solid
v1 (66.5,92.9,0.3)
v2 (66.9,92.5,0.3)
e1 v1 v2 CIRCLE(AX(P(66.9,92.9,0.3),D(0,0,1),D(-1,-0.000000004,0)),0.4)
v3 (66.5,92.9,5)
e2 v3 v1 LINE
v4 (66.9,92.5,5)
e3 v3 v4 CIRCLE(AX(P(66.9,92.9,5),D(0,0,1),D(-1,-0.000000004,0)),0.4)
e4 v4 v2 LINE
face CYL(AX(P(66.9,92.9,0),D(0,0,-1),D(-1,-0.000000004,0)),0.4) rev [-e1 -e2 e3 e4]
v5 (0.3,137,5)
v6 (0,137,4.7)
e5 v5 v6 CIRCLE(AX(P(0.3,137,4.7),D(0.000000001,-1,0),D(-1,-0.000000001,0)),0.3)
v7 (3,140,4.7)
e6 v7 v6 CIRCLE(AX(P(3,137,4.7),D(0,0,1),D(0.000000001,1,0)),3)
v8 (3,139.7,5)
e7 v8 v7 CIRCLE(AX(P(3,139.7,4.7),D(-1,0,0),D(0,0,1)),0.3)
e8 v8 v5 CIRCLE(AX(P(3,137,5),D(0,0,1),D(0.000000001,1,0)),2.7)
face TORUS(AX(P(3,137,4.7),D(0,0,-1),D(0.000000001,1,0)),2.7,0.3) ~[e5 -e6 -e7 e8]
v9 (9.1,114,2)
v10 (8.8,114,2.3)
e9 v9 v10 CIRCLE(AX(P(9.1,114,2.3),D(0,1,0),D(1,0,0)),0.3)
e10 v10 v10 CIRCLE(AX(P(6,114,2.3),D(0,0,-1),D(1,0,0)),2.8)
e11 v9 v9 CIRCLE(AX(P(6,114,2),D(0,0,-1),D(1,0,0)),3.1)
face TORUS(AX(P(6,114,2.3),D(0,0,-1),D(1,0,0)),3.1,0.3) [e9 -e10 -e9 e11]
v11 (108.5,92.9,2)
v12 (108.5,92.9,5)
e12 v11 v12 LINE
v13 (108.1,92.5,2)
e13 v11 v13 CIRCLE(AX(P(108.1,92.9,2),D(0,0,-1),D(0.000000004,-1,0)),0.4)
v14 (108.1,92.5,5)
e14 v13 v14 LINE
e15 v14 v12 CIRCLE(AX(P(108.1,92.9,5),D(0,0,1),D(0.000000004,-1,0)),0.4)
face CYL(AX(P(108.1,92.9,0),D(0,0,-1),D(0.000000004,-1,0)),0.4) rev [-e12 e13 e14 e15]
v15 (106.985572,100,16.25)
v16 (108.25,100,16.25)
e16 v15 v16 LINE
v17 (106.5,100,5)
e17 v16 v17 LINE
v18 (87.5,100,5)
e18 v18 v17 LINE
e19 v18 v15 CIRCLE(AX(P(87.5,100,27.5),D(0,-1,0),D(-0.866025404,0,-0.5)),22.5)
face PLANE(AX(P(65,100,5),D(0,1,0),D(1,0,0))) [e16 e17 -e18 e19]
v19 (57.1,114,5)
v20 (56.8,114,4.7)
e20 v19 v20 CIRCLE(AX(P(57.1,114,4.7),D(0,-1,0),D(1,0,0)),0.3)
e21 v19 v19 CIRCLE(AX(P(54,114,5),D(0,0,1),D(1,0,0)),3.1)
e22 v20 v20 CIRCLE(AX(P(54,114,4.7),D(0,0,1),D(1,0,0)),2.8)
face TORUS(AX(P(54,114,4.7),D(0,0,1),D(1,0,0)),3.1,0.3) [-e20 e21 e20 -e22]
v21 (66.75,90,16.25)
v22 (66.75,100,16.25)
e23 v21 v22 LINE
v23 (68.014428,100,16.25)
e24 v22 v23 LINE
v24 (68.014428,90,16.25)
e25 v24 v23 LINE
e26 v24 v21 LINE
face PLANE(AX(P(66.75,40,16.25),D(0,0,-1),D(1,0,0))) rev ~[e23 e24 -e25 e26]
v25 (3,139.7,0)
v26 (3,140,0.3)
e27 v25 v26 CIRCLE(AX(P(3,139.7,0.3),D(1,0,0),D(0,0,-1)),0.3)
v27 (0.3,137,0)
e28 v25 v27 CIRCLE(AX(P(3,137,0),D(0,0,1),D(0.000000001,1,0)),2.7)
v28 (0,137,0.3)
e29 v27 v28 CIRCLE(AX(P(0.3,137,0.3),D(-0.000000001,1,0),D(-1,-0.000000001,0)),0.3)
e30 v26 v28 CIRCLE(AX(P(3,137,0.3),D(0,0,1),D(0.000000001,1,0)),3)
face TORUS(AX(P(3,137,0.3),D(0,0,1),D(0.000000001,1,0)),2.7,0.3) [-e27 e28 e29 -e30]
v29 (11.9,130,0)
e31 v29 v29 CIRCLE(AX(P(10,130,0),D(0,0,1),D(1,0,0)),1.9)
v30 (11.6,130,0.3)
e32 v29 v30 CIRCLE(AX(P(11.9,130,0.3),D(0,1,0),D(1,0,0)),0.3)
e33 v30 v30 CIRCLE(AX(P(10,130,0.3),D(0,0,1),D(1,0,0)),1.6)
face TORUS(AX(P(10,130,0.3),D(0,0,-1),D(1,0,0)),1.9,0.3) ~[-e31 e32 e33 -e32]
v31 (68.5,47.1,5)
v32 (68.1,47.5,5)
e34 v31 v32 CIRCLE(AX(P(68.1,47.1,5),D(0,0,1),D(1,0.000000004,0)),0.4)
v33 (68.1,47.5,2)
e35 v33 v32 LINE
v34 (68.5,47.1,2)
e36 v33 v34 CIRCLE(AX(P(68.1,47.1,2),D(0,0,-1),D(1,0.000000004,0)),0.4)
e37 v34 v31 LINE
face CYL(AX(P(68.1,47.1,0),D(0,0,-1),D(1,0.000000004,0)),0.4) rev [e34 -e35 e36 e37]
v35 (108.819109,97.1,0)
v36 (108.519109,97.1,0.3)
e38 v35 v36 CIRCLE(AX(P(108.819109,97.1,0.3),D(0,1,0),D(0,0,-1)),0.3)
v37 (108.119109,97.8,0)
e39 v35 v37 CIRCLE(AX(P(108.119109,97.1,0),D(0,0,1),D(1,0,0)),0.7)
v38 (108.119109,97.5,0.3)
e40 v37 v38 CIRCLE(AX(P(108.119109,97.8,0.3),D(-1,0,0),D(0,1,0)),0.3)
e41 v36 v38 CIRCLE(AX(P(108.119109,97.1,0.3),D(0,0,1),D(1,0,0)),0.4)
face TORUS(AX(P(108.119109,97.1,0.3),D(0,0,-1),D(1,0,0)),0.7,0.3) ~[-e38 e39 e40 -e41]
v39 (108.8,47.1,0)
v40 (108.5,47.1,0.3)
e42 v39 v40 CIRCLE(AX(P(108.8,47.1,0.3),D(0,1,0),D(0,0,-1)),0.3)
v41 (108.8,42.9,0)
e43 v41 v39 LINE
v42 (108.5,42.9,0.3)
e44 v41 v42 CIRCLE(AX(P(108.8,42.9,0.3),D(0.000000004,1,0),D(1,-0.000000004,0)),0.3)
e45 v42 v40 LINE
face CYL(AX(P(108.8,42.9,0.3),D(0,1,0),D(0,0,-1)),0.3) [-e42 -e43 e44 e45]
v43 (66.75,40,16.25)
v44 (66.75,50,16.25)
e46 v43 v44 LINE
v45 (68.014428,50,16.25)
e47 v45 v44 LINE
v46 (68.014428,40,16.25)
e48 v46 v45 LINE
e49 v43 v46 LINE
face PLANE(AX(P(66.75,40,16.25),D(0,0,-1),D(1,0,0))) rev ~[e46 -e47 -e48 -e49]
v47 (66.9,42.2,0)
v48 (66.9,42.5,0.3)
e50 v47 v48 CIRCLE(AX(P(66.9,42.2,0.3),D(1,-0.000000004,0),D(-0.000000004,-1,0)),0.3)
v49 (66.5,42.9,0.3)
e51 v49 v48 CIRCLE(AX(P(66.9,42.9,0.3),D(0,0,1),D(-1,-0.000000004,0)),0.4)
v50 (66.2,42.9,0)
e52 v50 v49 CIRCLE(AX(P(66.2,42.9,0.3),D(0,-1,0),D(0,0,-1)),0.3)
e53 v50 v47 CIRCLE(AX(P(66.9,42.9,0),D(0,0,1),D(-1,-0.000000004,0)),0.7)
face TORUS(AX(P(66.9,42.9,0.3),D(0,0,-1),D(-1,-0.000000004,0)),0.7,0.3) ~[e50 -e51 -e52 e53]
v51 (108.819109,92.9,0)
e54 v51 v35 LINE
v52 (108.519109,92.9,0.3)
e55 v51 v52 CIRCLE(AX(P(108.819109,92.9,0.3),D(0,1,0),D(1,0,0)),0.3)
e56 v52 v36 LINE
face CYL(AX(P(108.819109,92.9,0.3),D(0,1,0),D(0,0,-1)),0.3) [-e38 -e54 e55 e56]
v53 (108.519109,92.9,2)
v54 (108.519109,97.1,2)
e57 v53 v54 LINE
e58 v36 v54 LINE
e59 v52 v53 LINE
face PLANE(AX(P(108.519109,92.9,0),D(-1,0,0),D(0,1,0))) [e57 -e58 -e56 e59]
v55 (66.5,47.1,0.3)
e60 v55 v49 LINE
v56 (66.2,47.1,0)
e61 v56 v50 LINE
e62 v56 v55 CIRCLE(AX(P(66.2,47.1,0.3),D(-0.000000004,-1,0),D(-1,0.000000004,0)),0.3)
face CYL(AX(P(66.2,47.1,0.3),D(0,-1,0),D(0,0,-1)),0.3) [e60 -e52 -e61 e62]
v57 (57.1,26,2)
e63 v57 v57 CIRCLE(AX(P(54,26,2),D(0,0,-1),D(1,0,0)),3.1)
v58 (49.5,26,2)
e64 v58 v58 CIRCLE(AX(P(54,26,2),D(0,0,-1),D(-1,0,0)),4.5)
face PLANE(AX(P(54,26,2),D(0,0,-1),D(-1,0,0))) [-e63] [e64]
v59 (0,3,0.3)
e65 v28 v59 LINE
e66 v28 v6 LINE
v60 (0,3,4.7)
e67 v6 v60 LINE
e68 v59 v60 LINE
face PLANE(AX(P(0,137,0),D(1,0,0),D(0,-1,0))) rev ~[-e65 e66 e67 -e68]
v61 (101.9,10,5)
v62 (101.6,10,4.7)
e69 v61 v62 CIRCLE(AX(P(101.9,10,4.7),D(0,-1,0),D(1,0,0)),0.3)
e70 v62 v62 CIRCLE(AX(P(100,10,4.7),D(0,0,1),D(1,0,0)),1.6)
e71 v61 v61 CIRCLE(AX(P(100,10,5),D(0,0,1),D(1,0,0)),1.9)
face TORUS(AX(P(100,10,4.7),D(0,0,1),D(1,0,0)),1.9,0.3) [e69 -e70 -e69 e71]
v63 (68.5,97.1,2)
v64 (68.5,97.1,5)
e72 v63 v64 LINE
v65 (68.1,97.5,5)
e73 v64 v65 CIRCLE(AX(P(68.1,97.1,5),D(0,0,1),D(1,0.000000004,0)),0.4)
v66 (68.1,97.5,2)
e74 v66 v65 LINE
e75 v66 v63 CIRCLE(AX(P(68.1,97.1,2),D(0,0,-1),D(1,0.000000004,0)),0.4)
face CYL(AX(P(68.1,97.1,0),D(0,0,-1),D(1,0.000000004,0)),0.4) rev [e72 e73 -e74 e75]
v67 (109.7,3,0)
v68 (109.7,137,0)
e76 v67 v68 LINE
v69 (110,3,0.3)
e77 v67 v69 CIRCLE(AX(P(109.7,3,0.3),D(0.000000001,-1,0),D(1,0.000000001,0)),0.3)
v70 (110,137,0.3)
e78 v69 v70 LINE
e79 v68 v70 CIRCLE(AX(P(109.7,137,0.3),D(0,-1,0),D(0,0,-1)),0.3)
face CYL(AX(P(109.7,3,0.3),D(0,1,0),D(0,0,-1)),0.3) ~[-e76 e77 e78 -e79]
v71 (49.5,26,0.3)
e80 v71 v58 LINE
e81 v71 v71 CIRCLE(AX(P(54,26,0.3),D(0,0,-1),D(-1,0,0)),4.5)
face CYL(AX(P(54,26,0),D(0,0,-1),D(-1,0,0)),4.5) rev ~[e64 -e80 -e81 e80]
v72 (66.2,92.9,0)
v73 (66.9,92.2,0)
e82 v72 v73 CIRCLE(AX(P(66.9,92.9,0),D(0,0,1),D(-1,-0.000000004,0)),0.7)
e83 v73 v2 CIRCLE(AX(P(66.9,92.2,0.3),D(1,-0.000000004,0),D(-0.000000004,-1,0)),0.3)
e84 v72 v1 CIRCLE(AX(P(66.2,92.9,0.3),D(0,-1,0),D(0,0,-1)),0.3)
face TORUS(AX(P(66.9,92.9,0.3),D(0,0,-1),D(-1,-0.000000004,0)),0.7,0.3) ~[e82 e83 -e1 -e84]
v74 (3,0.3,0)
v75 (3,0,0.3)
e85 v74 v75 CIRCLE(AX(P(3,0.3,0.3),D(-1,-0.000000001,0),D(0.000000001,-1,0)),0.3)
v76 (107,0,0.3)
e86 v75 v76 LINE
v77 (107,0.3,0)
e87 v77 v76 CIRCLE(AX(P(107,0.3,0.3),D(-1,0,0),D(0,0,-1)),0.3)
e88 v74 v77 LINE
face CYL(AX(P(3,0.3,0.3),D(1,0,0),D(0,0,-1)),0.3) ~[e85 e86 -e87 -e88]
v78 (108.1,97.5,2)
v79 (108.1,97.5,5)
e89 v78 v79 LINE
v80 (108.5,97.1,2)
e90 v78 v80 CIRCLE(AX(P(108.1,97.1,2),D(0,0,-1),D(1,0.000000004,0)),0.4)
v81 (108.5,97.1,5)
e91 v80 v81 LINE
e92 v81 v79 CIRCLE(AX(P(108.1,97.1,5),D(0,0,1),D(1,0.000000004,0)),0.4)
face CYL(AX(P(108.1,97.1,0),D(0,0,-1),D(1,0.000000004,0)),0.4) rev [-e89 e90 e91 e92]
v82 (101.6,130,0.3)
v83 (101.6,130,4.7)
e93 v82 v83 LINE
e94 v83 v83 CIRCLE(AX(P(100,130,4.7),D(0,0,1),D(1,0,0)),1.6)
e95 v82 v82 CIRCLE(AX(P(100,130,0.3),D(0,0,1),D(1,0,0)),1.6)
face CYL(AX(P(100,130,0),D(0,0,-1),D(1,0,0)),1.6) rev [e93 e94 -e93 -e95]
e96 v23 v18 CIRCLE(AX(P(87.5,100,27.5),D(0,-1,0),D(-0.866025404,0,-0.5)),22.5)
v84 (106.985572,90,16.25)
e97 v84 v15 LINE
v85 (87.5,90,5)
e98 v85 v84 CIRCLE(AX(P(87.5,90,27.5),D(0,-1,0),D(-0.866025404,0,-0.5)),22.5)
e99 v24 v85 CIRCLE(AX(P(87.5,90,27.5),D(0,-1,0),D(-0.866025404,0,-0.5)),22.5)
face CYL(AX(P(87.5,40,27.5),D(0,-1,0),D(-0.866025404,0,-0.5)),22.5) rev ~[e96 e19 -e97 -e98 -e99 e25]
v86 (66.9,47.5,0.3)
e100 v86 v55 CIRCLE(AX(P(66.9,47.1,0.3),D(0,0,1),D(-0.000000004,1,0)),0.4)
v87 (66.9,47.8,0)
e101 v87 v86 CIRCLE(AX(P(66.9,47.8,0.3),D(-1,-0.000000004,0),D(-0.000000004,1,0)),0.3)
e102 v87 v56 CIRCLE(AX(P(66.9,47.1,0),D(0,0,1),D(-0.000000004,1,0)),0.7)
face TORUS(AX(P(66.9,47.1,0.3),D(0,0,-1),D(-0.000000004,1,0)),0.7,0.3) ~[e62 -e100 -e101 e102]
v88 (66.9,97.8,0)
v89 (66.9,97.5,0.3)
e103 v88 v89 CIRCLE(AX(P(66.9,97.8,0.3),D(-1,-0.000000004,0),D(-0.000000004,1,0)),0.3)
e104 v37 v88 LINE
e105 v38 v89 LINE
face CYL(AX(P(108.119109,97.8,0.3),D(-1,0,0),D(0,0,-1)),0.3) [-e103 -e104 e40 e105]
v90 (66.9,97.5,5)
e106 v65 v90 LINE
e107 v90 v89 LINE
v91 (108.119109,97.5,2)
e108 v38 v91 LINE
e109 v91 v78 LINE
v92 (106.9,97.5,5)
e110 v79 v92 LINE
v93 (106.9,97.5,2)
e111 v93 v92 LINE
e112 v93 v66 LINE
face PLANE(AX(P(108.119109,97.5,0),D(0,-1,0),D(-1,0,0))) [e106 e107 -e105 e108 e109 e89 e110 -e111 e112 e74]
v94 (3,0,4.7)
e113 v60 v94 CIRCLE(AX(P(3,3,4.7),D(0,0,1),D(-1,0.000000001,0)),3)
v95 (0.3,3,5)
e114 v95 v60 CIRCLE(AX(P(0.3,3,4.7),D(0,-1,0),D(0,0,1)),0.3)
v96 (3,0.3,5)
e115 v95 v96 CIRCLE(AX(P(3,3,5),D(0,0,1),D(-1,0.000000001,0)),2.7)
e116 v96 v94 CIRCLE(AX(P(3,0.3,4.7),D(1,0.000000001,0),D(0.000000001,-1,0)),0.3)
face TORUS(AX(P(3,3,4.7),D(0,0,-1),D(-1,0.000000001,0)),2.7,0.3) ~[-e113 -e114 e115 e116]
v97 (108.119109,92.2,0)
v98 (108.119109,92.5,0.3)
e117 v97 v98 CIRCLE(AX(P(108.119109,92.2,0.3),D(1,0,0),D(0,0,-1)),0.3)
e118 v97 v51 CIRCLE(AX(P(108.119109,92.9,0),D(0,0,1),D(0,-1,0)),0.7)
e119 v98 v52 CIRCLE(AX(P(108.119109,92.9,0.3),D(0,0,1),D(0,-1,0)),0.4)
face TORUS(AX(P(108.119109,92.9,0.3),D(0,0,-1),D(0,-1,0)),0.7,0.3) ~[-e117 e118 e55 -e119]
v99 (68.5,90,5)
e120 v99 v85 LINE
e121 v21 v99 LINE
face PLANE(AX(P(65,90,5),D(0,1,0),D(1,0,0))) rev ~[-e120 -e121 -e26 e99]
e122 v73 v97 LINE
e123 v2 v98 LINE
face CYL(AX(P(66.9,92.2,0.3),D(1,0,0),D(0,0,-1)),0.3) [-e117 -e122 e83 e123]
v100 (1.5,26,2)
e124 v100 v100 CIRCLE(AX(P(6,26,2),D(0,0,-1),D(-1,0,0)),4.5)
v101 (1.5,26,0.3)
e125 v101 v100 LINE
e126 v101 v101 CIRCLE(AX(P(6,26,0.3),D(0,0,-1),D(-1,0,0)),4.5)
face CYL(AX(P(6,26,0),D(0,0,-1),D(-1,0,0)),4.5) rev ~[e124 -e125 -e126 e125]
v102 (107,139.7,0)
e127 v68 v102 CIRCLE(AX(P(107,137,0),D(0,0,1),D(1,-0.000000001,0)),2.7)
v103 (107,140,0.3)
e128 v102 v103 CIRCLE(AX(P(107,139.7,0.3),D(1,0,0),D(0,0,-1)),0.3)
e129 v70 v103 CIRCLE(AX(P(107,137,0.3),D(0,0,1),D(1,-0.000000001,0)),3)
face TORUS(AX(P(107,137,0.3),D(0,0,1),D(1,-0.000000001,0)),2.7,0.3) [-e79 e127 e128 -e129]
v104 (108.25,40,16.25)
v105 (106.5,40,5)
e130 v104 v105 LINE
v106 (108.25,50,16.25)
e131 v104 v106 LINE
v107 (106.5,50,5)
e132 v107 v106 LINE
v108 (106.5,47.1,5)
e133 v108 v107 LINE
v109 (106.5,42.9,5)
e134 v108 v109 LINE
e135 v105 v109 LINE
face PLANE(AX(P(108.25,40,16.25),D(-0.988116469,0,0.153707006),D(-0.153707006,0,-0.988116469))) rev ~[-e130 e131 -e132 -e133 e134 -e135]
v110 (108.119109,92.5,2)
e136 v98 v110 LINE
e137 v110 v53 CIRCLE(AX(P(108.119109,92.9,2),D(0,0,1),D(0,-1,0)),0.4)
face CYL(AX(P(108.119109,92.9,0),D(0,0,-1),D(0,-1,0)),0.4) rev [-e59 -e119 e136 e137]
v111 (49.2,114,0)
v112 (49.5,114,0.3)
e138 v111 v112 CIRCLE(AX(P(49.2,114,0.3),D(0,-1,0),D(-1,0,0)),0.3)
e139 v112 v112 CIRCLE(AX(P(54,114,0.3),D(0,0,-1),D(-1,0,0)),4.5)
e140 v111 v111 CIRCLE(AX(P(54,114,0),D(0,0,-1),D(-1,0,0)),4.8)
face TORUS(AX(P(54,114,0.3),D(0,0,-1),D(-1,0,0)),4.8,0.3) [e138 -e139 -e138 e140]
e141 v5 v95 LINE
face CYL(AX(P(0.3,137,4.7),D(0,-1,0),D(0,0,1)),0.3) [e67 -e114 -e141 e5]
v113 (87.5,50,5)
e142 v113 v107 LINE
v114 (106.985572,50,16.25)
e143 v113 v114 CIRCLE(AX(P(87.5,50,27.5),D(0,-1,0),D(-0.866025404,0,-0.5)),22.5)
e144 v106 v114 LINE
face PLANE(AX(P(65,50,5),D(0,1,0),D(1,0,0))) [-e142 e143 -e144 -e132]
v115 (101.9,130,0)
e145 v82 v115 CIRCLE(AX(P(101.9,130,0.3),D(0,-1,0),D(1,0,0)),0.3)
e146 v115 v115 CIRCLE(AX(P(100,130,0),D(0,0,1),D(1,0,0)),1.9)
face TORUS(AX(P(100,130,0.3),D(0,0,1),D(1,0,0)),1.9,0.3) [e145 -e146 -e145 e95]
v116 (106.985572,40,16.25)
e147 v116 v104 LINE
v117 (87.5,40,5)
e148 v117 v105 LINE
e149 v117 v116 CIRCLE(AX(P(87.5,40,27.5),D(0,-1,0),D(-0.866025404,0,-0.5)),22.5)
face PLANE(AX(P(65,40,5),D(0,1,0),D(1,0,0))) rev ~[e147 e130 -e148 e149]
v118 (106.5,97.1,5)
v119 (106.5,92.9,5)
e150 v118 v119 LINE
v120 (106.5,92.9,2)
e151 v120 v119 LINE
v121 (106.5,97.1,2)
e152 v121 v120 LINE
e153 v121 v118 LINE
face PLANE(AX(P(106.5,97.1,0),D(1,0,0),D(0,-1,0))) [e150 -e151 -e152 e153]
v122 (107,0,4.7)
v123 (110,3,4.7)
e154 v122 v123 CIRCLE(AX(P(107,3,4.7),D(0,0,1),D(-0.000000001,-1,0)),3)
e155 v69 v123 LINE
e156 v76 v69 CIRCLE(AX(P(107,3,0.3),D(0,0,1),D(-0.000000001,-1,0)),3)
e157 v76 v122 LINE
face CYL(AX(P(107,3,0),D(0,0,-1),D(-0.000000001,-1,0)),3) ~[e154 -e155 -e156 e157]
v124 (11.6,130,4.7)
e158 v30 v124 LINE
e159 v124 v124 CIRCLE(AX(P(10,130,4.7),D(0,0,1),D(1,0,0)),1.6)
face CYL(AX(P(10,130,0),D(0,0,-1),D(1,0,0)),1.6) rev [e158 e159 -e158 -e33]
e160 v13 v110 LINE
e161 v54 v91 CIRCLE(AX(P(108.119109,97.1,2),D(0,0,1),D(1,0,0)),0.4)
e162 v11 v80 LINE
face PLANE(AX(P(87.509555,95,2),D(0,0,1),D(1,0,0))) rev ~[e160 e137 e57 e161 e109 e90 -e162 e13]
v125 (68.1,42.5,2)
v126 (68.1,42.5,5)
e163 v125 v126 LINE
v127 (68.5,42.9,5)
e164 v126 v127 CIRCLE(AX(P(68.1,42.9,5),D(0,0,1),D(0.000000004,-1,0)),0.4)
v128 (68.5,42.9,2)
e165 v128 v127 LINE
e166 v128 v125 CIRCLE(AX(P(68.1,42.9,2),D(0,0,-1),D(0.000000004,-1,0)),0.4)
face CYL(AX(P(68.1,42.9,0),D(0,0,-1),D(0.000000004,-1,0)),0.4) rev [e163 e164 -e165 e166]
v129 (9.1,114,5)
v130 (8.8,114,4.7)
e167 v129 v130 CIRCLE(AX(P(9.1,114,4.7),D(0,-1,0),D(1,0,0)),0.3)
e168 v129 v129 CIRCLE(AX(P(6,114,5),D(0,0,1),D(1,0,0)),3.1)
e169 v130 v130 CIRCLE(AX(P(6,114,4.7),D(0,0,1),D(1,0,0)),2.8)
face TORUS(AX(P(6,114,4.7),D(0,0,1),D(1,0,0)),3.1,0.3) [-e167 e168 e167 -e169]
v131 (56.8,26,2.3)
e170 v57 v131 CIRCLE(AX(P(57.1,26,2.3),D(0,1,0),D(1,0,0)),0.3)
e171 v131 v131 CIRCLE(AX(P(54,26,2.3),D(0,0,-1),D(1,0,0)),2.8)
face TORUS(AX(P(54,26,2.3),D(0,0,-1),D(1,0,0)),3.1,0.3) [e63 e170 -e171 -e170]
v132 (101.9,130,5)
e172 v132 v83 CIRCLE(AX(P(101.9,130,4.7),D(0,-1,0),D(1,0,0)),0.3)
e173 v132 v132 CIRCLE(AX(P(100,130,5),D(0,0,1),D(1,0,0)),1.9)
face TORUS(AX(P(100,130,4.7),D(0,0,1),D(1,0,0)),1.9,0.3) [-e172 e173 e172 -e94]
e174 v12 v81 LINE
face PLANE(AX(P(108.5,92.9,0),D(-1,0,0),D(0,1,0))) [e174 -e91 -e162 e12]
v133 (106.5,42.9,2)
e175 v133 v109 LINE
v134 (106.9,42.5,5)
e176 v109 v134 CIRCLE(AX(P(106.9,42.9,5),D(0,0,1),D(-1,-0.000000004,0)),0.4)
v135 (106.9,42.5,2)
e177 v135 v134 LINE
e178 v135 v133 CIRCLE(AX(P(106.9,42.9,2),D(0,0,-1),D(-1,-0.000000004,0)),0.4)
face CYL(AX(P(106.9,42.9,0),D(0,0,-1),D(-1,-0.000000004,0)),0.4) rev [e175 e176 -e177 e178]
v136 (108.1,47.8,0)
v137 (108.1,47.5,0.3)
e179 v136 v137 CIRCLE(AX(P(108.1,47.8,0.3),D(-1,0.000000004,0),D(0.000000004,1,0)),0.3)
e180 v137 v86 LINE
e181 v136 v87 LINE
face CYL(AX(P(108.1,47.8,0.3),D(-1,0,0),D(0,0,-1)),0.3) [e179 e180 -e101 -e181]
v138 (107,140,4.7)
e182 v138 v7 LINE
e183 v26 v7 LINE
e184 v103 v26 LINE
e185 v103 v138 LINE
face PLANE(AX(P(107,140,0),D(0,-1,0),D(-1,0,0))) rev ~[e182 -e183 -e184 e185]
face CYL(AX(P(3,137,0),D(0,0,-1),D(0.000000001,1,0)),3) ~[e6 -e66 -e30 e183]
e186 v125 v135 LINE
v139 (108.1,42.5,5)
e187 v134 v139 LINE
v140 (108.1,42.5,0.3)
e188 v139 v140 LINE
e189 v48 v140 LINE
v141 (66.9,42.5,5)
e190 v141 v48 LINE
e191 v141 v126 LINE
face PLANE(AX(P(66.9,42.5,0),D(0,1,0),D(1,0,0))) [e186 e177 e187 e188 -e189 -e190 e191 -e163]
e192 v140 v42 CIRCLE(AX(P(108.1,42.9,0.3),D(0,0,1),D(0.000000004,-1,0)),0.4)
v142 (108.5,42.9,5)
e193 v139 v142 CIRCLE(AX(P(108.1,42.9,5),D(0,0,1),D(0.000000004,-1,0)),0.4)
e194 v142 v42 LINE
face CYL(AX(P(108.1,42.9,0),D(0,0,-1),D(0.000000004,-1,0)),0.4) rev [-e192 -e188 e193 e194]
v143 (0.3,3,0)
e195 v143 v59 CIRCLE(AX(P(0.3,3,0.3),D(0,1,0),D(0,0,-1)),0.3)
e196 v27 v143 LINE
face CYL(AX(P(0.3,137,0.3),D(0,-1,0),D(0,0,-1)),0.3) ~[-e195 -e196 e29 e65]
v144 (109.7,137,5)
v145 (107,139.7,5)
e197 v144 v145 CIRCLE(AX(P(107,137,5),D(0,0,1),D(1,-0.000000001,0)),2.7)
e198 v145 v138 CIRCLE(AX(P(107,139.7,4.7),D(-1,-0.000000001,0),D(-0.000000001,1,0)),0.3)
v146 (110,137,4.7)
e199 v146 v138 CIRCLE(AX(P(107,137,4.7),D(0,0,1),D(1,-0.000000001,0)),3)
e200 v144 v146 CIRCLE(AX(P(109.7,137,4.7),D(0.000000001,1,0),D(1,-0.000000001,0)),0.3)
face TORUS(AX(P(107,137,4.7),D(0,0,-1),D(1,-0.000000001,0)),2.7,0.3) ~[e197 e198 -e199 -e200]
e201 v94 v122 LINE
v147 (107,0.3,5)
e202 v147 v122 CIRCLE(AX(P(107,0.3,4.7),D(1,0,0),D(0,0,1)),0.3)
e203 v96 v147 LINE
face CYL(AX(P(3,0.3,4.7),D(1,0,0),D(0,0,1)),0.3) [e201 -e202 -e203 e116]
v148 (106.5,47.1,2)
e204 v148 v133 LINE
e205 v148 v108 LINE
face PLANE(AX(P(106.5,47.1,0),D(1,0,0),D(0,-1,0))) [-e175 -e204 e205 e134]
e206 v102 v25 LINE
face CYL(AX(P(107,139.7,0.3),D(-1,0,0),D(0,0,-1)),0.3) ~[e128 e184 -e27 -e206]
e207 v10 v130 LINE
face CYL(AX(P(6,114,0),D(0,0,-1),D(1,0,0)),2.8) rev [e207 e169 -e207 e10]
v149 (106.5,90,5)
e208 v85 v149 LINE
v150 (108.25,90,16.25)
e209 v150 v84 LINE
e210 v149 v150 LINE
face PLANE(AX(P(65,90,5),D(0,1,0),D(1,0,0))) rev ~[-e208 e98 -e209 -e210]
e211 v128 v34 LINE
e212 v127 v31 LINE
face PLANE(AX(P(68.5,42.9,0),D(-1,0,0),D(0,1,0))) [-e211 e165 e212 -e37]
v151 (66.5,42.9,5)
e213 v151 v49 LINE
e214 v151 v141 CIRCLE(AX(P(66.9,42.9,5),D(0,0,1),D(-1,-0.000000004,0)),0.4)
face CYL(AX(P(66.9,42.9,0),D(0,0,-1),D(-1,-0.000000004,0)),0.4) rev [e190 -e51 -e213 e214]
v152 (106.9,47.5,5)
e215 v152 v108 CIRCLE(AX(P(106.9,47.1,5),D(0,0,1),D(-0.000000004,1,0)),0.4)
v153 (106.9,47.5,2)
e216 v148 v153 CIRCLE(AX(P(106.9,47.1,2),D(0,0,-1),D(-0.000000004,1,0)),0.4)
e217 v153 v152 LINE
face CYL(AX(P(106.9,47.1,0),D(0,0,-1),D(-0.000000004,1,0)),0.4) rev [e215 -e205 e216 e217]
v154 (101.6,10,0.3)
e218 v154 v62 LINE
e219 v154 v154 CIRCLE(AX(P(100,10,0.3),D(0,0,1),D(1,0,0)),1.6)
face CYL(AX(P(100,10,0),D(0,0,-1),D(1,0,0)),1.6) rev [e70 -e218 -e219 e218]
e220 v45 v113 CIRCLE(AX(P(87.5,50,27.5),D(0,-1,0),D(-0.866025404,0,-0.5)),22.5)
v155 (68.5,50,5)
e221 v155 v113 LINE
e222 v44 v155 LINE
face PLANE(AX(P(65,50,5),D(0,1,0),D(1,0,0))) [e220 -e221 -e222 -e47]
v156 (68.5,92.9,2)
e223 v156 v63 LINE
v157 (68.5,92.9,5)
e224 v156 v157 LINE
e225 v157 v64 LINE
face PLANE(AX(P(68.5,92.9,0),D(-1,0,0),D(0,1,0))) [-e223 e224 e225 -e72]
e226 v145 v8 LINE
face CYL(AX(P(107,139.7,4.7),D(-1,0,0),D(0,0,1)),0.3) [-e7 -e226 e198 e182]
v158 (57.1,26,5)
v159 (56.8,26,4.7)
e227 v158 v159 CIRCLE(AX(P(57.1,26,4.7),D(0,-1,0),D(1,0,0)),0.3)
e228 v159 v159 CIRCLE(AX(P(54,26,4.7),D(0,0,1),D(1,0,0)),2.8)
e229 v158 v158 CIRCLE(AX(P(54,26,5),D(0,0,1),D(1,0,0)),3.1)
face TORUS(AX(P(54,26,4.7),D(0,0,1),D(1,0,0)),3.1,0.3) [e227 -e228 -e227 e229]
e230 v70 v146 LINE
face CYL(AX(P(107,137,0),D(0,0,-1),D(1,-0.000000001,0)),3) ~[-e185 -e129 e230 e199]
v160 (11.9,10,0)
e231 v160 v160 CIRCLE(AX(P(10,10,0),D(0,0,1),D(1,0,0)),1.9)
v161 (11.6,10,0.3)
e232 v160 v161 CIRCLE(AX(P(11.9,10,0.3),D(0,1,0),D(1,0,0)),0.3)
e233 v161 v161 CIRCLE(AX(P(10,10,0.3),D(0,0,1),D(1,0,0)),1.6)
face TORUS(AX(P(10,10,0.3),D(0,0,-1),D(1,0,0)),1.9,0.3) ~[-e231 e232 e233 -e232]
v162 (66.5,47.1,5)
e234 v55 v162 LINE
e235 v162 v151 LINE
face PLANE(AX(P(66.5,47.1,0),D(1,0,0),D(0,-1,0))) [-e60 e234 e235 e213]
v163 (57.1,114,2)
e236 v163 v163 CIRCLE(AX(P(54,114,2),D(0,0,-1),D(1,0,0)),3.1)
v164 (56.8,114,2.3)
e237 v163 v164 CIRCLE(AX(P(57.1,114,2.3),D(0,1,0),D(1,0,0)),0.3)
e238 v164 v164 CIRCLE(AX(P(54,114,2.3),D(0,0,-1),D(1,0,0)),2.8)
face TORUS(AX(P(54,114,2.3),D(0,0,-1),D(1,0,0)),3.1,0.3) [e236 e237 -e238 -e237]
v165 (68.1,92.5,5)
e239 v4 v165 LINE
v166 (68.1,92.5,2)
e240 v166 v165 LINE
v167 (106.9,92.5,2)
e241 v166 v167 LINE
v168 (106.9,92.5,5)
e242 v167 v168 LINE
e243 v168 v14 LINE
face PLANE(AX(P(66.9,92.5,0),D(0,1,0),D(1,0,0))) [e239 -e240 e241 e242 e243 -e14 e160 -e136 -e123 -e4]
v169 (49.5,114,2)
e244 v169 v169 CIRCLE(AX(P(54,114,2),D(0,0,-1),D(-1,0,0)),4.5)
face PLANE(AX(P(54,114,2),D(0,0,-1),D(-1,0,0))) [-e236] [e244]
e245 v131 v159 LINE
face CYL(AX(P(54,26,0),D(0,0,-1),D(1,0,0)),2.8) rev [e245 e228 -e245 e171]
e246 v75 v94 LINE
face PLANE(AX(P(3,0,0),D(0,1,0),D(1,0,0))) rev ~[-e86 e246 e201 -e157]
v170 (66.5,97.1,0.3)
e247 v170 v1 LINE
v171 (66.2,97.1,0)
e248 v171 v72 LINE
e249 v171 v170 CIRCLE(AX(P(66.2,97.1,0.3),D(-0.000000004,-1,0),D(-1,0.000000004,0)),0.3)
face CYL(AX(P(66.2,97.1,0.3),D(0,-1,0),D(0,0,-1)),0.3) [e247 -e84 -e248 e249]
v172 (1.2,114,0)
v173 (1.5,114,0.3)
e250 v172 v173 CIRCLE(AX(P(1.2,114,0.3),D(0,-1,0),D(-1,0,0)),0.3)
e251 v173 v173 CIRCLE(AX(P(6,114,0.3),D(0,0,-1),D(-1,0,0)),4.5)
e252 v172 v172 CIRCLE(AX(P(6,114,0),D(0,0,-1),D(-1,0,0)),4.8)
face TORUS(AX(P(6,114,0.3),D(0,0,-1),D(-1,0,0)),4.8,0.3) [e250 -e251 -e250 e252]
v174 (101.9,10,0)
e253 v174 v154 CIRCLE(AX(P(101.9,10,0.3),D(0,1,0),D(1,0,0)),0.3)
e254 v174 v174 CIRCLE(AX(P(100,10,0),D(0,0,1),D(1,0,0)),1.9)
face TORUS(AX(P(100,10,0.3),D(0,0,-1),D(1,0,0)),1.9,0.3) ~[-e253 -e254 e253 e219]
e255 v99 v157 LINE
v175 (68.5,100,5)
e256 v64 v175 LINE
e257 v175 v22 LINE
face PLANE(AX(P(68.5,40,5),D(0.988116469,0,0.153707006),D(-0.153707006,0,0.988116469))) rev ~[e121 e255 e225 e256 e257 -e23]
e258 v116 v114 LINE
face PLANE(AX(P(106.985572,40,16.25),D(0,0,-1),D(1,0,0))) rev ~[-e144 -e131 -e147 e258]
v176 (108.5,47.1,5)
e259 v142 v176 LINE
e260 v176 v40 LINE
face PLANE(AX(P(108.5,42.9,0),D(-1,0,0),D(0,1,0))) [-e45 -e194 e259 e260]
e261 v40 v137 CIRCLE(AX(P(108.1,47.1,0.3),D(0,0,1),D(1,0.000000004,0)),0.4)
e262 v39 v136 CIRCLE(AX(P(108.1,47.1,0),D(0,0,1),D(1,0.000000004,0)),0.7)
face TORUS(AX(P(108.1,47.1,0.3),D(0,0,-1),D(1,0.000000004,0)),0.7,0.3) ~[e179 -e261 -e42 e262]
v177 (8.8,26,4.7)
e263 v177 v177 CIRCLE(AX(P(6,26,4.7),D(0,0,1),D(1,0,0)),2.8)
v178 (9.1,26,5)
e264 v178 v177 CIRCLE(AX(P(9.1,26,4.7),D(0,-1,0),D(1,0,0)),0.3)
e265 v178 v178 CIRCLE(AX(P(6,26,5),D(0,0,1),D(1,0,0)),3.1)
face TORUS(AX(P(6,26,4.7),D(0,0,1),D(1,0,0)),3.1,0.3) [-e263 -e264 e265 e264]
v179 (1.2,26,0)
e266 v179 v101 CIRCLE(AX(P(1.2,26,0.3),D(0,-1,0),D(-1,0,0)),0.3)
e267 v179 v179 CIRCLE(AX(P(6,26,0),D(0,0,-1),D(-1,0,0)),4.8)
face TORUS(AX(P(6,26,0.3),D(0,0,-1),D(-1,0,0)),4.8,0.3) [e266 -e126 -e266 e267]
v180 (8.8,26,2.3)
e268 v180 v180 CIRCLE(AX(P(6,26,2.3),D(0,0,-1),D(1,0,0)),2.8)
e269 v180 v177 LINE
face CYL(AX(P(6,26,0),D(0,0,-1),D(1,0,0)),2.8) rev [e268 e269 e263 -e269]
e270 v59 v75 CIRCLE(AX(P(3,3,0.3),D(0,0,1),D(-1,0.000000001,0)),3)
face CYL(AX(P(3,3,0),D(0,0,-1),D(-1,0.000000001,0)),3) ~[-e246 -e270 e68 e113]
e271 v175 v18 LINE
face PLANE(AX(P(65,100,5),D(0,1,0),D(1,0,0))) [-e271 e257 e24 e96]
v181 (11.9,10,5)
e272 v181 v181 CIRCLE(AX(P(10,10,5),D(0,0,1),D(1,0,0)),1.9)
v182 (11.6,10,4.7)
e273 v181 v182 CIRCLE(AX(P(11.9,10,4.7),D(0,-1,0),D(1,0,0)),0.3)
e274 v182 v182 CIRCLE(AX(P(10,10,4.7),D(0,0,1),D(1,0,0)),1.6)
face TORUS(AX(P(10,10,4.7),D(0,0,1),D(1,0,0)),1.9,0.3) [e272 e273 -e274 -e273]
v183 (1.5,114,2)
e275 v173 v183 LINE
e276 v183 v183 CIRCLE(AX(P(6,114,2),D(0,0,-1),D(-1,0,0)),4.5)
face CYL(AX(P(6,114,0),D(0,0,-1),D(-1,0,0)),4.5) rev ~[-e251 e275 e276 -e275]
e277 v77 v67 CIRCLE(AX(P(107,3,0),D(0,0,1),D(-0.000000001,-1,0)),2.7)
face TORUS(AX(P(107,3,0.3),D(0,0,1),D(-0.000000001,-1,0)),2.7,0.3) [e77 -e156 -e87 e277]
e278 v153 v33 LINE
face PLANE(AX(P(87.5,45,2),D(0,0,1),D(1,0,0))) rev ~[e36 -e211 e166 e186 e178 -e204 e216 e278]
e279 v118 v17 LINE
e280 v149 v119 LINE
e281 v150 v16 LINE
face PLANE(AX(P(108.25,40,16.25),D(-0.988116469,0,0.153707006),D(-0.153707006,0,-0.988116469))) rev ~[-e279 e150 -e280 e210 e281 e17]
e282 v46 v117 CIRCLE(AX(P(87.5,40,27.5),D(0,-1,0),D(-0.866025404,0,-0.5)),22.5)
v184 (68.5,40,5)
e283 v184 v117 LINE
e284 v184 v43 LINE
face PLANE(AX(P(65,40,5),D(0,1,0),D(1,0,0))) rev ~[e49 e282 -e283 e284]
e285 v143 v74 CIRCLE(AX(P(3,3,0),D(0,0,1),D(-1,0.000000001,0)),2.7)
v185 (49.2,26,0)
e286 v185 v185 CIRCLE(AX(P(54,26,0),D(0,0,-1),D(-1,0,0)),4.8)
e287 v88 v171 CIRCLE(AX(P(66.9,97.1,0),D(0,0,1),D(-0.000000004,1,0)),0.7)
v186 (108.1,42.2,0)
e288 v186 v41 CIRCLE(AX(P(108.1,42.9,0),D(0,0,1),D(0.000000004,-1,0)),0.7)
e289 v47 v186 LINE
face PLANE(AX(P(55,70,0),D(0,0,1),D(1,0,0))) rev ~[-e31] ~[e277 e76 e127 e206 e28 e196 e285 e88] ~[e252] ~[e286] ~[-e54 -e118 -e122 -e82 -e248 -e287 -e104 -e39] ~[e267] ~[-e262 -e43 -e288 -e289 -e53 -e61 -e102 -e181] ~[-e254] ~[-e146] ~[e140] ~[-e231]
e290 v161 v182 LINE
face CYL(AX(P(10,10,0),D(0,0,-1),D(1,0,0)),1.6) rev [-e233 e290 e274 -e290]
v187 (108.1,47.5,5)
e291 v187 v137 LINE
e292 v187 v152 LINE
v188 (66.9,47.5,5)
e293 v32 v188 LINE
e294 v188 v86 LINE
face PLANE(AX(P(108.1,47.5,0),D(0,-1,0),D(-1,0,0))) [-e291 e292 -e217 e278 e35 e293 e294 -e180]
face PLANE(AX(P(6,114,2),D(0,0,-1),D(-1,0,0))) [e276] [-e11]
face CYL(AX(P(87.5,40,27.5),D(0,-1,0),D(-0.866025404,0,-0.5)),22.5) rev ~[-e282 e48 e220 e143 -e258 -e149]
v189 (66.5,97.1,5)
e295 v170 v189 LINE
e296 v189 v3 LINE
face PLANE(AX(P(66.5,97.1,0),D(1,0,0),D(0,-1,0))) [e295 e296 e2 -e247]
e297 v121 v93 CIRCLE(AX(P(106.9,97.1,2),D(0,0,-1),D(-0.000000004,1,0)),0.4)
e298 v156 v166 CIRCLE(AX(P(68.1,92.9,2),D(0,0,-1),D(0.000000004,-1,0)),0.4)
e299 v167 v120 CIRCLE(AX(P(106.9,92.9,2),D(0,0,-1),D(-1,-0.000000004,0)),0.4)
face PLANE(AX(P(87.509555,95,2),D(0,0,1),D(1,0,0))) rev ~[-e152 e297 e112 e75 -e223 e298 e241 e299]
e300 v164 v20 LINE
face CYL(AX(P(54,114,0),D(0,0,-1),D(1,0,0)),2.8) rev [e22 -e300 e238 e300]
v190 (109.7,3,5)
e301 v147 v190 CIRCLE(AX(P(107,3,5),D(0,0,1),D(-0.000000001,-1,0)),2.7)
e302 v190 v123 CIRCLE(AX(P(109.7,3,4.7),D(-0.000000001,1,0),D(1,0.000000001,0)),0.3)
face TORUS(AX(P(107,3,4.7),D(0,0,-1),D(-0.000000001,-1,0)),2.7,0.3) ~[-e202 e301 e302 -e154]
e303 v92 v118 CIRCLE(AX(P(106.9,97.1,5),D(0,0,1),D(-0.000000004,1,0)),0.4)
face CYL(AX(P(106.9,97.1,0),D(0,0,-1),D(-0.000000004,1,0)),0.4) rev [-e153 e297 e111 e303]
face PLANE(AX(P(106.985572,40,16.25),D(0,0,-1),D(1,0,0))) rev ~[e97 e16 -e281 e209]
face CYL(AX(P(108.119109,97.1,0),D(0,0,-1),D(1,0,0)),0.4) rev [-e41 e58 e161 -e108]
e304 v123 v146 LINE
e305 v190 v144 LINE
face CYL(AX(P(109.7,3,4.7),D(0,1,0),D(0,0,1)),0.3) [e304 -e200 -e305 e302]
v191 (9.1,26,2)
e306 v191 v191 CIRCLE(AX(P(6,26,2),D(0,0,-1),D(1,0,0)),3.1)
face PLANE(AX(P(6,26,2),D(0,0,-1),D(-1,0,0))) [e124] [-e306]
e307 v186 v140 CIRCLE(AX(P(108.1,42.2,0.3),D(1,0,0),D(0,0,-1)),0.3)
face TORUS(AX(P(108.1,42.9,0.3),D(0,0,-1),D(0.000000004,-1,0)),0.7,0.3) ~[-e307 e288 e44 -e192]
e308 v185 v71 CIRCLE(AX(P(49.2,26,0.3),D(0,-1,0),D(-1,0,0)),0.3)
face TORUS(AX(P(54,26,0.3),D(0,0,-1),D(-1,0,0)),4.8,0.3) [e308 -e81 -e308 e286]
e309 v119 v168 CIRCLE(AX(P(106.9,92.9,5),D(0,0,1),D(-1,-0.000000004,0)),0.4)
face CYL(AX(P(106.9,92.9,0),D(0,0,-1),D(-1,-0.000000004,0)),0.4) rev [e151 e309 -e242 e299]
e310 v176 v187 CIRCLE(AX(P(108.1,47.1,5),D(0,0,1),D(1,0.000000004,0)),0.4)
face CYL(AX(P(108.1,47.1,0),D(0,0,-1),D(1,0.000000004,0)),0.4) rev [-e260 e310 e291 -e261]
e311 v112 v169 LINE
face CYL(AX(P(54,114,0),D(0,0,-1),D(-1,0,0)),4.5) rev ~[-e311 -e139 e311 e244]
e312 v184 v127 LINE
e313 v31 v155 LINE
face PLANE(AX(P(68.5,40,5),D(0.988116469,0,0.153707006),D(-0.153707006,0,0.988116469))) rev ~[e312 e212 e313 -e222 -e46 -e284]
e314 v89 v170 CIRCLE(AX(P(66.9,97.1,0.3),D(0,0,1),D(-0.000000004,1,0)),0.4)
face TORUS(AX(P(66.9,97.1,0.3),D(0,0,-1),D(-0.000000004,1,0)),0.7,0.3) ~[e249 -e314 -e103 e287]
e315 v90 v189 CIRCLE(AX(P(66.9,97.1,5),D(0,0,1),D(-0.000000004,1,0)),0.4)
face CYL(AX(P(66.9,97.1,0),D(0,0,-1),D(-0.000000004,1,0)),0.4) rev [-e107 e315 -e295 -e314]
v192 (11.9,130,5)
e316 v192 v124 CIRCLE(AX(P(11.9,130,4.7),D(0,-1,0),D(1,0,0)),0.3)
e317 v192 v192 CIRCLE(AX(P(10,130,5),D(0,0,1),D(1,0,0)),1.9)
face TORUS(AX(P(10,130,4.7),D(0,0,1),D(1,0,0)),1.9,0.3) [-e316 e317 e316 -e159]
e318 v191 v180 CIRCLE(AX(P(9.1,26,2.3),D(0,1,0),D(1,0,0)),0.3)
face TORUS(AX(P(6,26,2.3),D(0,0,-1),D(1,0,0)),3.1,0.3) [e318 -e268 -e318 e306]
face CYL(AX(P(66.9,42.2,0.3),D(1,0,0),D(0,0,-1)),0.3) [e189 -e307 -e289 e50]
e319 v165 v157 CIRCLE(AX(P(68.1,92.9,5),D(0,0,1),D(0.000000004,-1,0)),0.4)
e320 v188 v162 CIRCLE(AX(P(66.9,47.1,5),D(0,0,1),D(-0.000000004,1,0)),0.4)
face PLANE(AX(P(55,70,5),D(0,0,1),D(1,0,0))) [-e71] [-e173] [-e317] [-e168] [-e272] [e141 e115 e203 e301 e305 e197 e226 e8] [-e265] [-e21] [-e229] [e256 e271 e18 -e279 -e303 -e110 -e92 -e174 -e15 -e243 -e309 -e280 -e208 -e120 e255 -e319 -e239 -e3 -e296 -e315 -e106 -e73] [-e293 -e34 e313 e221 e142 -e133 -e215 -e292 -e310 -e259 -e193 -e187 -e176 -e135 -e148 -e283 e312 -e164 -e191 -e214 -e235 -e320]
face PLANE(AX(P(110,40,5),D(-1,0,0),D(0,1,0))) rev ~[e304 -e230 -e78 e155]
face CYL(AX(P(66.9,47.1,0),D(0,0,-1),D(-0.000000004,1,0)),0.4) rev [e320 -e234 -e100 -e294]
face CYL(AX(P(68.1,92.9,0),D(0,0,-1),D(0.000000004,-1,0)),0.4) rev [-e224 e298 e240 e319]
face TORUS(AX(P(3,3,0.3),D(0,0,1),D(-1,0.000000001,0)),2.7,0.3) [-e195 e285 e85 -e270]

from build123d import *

# Parameters (mm, degrees)
SKETCH1_R           = 2.8
SKETCH1_R_2         = 1.6
BOSS_EXTRUDE1_DEPTH = 5
SKETCH2_R           = 4.5
CUT_EXTRUDE1_DEPTH  = 2
SKETCH3_W           = 45
SKETCH3_H           = 10
BOSS_EXTRUDE2_DEPTH = 22.5
CUT_EXTRUDE2_REACH  = 153.183
FILLET1_R           = 0.3


with BuildPart() as part:
    # Sketch1 → Boss-Extrude1 (new body)
    with BuildSketch(Plane.XY):
        with BuildLine():
            Line((3, 0), (107, 0))
            ThreePointArc((107, 0), (109.121320344, 0.878679656), (110, 3))
            Line((110, 3), (110, 137))
            ThreePointArc((110, 137), (109.121320344, 139.121320344), (107, 140))
            Line((107, 140), (3, 140))
            ThreePointArc((3, 140), (0.878679656, 139.121320344), (0, 137))
            Line((0, 137), (0, 3))
            ThreePointArc((0, 3), (0.878679656, 0.878679656), (3, 0))
        make_face()
        with Locations((6, 26)):
            Circle(SKETCH1_R, mode=Mode.SUBTRACT)
        with Locations((54, 26)):
            Circle(SKETCH1_R, mode=Mode.SUBTRACT)
        with Locations((54, 114)):
            Circle(SKETCH1_R, mode=Mode.SUBTRACT)
        with Locations((6, 114)):
            Circle(SKETCH1_R, mode=Mode.SUBTRACT)
        with Locations((10, 130)):
            Circle(SKETCH1_R_2, mode=Mode.SUBTRACT)
        with Locations((100, 130)):
            Circle(SKETCH1_R_2, mode=Mode.SUBTRACT)
        with Locations((10, 10)):
            Circle(SKETCH1_R_2, mode=Mode.SUBTRACT)
        with Locations((100, 10)):
            Circle(SKETCH1_R_2, mode=Mode.SUBTRACT)
        with BuildLine():
            Line((106.5, 97.1), (106.5, 92.9))
            ThreePointArc((106.5, 92.9), (106.617157288, 92.617157288), (106.9, 92.5))
            Line((106.9, 92.5), (108.1, 92.5))
            ThreePointArc((108.1, 92.5), (108.382842712, 92.617157288), (108.5, 92.9))
            Line((108.5, 92.9), (108.5, 97.1))
            ThreePointArc((108.5, 97.1), (108.382842712, 97.382842712), (108.1, 97.5))
            Line((108.1, 97.5), (106.9, 97.5))
            ThreePointArc((106.9, 97.5), (106.617157288, 97.382842712), (106.5, 97.1))
        make_face(mode=Mode.SUBTRACT)
        with BuildLine():
            Line((106.5, 47.1), (106.5, 42.9))
            ThreePointArc((106.5, 42.9), (106.617157288, 42.617157288), (106.9, 42.5))
            Line((106.9, 42.5), (108.1, 42.5))
            ThreePointArc((108.1, 42.5), (108.382842712, 42.617157288), (108.5, 42.9))
            Line((108.5, 42.9), (108.5, 47.1))
            ThreePointArc((108.5, 47.1), (108.382842712, 47.382842712), (108.1, 47.5))
            Line((108.1, 47.5), (106.9, 47.5))
            ThreePointArc((106.9, 47.5), (106.617157288, 47.382842712), (106.5, 47.1))
        make_face(mode=Mode.SUBTRACT)
        with BuildLine():
            Line((66.5, 47.1), (66.5, 42.9))
            ThreePointArc((66.5, 42.9), (66.617157288, 42.617157288), (66.9, 42.5))
            Line((66.9, 42.5), (68.1, 42.5))
            ThreePointArc((68.1, 42.5), (68.382842712, 42.617157288), (68.5, 42.9))
            Line((68.5, 42.9), (68.5, 47.1))
            ThreePointArc((68.5, 47.1), (68.382842712, 47.382842712), (68.1, 47.5))
            Line((68.1, 47.5), (66.9, 47.5))
            ThreePointArc((66.9, 47.5), (66.617157288, 47.382842712), (66.5, 47.1))
        make_face(mode=Mode.SUBTRACT)
        with BuildLine():
            Line((66.5, 97.1), (66.5, 92.9))
            ThreePointArc((66.5, 92.9), (66.617157288, 92.617157288), (66.9, 92.5))
            Line((66.9, 92.5), (68.1, 92.5))
            ThreePointArc((68.1, 92.5), (68.382842712, 92.617157288), (68.5, 92.9))
            Line((68.5, 92.9), (68.5, 97.1))
            ThreePointArc((68.5, 97.1), (68.382842712, 97.382842712), (68.1, 97.5))
            Line((68.1, 97.5), (66.9, 97.5))
            ThreePointArc((66.9, 97.5), (66.617157288, 97.382842712), (66.5, 97.1))
        make_face(mode=Mode.SUBTRACT)
    extrude(amount=BOSS_EXTRUDE1_DEPTH)

    # Sketch2 → Cut-Extrude1 (cut)
    with BuildSketch(Plane(origin=(0, 0, 0), x_dir=(-1, 0, 0), z_dir=(0, 0, -1))):
        with Locations((-54, 114)):
            Circle(SKETCH2_R)
        with Locations((-54, 26)):
            Circle(SKETCH2_R)
        with Locations((-6, 26)):
            Circle(SKETCH2_R)
        with Locations((-6, 114)):
            Circle(SKETCH2_R)
        with BuildLine():
            Line((-108.11910915, 97.5), (-66.9, 97.5))
            ThreePointArc((-66.9, 97.5), (-66.617157288, 97.382842712), (-66.5, 97.1))
            Line((-66.5, 97.1), (-66.5, 92.9))
            ThreePointArc((-66.5, 92.9), (-66.617157288, 92.617157288), (-66.9, 92.5))
            Line((-66.9, 92.5), (-108.11910915, 92.5))
            ThreePointArc((-108.11910915, 92.5), (-108.401951863, 92.617157288), (-108.51910915, 92.9))
            Line((-108.51910915, 92.9), (-108.51910915, 97.1))
            ThreePointArc((-108.51910915, 97.1), (-108.401951863, 97.382842712), (-108.11910915, 97.5))
        make_face()
        with BuildLine():
            Line((-108.1, 47.5), (-66.9, 47.5))
            ThreePointArc((-66.9, 47.5), (-66.617157288, 47.382842712), (-66.5, 47.1))
            Line((-66.5, 47.1), (-66.5, 42.9))
            ThreePointArc((-66.5, 42.9), (-66.617157288, 42.617157288), (-66.9, 42.5))
            Line((-66.9, 42.5), (-108.1, 42.5))
            ThreePointArc((-108.1, 42.5), (-108.382842712, 42.617157288), (-108.5, 42.9))
            Line((-108.5, 42.9), (-108.5, 47.1))
            ThreePointArc((-108.5, 47.1), (-108.382842712, 47.382842712), (-108.1, 47.5))
        make_face()
    extrude(amount=-CUT_EXTRUDE1_DEPTH, mode=Mode.SUBTRACT)

    # Sketch3 → Boss-Extrude2 (add)
    with BuildSketch(Plane.XY.offset(5)):
        with Locations((87.5, 45)):
            Rectangle(SKETCH3_W, SKETCH3_H)
        with Locations((87.5, 95)):
            Rectangle(SKETCH3_W, SKETCH3_H)
    extrude(amount=BOSS_EXTRUDE2_DEPTH)

    # Cut-Extrude2: up to this face of the body (flat: up to its plane)
    cut_extrude2_end = Plane(part.part.faces().sort_by_distance((87.5, 100, 16.25))[0])
    # Sketch4 → Cut-Extrude2 (cut, up to the picked face)
    with BuildSketch(Plane.XZ.offset(-40), mode=Mode.PRIVATE) as cut_extrude2_sk1:
        with BuildLine():
            Line((66.75, 16.25), (68.014428415, 16.25))
            ThreePointArc((68.014428415, 16.25), (87.5, 5), (106.985571585, 16.25))
            Line((106.985571585, 16.25), (108.25, 16.25))
            Line((108.25, 16.25), (106.5, 5))
            Line((106.5, 5), (110, 5))
            Line((110, 5), (110, 27.5))
            Line((110, 27.5), (65, 27.5))
            Line((65, 27.5), (65, 5))
            Line((65, 5), (68.5, 5))
            Line((68.5, 5), (66.75, 16.25))
        make_face()
    cut_extrude2_tool1 = split(extrude(cut_extrude2_sk1.sketch, amount=-CUT_EXTRUDE2_REACH, mode=Mode.PRIVATE), bisect_by=cut_extrude2_end, keep=Keep.BOTH, mode=Mode.PRIVATE)
    add(cut_extrude2_tool1.solids().sort_by(Axis((87.5, 40, 17.441683), (0, 1, 0)))[0], mode=Mode.SUBTRACT)

    # Fillet1
    fillet1_edges = [part.edges().sort_by_distance(p)[0] for p in [
        (55, 140, 0),
        (109.121320344, 139.121320344, 0),
        (66.617157288, 47.382842712, 0),
        (66.5, 45, 0),
        (66.617157288, 42.617157288, 0),
        (110, 70, 0),
        (109.121320344, 0.878679656, 0),
        (109.121320344, 139.121320344, 5),
        (66.617157288, 97.382842712, 0),
        (66.5, 95, 0),
        (66.617157288, 92.617157288, 0),
        (55, 140, 5),
        (51.2, 26, 2),
        (58.5, 26, 0),
        (3.2, 26, 2),
        (10.5, 26, 0),
        (3.2, 114, 2),
        (10.5, 114, 0),
        (0.878679656, 139.121320344, 5),
        (108.401951863, 97.382842712, 0),
        (108.51910915, 95, 0),
        (108.401951863, 92.617157288, 0),
        (3.2, 26, 5),
        (51.2, 114, 2),
        (58.5, 114, 0),
        (0, 70, 5),
        (51.2, 26, 5),
        (0.878679656, 0.878679656, 5),
        (51.2, 114, 5),
        (55, 0, 5),
        (3.2, 114, 5),
        (87.509554575, 97.5, 0),
        (87.509554575, 92.5, 0),
        (109.121320344, 0.878679656, 5),
        (8.4, 130, 0),
        (8.4, 130, 5),
        (98.4, 130, 0),
        (98.4, 130, 5),
        (8.4, 10, 0),
        (8.4, 10, 5),
        (98.4, 10, 0),
        (98.4, 10, 5),
        (108.382842712, 47.382842712, 0),
        (87.5, 47.5, 0),
        (87.5, 42.5, 0),
        (108.382842712, 42.617157288, 0),
        (108.5, 45, 0),
        (55, 0, 0),
        (110, 70, 5),
        (0.878679656, 0.878679656, 0),
        (0, 70, 0),
        (0.878679656, 139.121320344, 0),
    ]]
    fillet(fillet1_edges, radius=FILLET1_R)


solid = part.part
